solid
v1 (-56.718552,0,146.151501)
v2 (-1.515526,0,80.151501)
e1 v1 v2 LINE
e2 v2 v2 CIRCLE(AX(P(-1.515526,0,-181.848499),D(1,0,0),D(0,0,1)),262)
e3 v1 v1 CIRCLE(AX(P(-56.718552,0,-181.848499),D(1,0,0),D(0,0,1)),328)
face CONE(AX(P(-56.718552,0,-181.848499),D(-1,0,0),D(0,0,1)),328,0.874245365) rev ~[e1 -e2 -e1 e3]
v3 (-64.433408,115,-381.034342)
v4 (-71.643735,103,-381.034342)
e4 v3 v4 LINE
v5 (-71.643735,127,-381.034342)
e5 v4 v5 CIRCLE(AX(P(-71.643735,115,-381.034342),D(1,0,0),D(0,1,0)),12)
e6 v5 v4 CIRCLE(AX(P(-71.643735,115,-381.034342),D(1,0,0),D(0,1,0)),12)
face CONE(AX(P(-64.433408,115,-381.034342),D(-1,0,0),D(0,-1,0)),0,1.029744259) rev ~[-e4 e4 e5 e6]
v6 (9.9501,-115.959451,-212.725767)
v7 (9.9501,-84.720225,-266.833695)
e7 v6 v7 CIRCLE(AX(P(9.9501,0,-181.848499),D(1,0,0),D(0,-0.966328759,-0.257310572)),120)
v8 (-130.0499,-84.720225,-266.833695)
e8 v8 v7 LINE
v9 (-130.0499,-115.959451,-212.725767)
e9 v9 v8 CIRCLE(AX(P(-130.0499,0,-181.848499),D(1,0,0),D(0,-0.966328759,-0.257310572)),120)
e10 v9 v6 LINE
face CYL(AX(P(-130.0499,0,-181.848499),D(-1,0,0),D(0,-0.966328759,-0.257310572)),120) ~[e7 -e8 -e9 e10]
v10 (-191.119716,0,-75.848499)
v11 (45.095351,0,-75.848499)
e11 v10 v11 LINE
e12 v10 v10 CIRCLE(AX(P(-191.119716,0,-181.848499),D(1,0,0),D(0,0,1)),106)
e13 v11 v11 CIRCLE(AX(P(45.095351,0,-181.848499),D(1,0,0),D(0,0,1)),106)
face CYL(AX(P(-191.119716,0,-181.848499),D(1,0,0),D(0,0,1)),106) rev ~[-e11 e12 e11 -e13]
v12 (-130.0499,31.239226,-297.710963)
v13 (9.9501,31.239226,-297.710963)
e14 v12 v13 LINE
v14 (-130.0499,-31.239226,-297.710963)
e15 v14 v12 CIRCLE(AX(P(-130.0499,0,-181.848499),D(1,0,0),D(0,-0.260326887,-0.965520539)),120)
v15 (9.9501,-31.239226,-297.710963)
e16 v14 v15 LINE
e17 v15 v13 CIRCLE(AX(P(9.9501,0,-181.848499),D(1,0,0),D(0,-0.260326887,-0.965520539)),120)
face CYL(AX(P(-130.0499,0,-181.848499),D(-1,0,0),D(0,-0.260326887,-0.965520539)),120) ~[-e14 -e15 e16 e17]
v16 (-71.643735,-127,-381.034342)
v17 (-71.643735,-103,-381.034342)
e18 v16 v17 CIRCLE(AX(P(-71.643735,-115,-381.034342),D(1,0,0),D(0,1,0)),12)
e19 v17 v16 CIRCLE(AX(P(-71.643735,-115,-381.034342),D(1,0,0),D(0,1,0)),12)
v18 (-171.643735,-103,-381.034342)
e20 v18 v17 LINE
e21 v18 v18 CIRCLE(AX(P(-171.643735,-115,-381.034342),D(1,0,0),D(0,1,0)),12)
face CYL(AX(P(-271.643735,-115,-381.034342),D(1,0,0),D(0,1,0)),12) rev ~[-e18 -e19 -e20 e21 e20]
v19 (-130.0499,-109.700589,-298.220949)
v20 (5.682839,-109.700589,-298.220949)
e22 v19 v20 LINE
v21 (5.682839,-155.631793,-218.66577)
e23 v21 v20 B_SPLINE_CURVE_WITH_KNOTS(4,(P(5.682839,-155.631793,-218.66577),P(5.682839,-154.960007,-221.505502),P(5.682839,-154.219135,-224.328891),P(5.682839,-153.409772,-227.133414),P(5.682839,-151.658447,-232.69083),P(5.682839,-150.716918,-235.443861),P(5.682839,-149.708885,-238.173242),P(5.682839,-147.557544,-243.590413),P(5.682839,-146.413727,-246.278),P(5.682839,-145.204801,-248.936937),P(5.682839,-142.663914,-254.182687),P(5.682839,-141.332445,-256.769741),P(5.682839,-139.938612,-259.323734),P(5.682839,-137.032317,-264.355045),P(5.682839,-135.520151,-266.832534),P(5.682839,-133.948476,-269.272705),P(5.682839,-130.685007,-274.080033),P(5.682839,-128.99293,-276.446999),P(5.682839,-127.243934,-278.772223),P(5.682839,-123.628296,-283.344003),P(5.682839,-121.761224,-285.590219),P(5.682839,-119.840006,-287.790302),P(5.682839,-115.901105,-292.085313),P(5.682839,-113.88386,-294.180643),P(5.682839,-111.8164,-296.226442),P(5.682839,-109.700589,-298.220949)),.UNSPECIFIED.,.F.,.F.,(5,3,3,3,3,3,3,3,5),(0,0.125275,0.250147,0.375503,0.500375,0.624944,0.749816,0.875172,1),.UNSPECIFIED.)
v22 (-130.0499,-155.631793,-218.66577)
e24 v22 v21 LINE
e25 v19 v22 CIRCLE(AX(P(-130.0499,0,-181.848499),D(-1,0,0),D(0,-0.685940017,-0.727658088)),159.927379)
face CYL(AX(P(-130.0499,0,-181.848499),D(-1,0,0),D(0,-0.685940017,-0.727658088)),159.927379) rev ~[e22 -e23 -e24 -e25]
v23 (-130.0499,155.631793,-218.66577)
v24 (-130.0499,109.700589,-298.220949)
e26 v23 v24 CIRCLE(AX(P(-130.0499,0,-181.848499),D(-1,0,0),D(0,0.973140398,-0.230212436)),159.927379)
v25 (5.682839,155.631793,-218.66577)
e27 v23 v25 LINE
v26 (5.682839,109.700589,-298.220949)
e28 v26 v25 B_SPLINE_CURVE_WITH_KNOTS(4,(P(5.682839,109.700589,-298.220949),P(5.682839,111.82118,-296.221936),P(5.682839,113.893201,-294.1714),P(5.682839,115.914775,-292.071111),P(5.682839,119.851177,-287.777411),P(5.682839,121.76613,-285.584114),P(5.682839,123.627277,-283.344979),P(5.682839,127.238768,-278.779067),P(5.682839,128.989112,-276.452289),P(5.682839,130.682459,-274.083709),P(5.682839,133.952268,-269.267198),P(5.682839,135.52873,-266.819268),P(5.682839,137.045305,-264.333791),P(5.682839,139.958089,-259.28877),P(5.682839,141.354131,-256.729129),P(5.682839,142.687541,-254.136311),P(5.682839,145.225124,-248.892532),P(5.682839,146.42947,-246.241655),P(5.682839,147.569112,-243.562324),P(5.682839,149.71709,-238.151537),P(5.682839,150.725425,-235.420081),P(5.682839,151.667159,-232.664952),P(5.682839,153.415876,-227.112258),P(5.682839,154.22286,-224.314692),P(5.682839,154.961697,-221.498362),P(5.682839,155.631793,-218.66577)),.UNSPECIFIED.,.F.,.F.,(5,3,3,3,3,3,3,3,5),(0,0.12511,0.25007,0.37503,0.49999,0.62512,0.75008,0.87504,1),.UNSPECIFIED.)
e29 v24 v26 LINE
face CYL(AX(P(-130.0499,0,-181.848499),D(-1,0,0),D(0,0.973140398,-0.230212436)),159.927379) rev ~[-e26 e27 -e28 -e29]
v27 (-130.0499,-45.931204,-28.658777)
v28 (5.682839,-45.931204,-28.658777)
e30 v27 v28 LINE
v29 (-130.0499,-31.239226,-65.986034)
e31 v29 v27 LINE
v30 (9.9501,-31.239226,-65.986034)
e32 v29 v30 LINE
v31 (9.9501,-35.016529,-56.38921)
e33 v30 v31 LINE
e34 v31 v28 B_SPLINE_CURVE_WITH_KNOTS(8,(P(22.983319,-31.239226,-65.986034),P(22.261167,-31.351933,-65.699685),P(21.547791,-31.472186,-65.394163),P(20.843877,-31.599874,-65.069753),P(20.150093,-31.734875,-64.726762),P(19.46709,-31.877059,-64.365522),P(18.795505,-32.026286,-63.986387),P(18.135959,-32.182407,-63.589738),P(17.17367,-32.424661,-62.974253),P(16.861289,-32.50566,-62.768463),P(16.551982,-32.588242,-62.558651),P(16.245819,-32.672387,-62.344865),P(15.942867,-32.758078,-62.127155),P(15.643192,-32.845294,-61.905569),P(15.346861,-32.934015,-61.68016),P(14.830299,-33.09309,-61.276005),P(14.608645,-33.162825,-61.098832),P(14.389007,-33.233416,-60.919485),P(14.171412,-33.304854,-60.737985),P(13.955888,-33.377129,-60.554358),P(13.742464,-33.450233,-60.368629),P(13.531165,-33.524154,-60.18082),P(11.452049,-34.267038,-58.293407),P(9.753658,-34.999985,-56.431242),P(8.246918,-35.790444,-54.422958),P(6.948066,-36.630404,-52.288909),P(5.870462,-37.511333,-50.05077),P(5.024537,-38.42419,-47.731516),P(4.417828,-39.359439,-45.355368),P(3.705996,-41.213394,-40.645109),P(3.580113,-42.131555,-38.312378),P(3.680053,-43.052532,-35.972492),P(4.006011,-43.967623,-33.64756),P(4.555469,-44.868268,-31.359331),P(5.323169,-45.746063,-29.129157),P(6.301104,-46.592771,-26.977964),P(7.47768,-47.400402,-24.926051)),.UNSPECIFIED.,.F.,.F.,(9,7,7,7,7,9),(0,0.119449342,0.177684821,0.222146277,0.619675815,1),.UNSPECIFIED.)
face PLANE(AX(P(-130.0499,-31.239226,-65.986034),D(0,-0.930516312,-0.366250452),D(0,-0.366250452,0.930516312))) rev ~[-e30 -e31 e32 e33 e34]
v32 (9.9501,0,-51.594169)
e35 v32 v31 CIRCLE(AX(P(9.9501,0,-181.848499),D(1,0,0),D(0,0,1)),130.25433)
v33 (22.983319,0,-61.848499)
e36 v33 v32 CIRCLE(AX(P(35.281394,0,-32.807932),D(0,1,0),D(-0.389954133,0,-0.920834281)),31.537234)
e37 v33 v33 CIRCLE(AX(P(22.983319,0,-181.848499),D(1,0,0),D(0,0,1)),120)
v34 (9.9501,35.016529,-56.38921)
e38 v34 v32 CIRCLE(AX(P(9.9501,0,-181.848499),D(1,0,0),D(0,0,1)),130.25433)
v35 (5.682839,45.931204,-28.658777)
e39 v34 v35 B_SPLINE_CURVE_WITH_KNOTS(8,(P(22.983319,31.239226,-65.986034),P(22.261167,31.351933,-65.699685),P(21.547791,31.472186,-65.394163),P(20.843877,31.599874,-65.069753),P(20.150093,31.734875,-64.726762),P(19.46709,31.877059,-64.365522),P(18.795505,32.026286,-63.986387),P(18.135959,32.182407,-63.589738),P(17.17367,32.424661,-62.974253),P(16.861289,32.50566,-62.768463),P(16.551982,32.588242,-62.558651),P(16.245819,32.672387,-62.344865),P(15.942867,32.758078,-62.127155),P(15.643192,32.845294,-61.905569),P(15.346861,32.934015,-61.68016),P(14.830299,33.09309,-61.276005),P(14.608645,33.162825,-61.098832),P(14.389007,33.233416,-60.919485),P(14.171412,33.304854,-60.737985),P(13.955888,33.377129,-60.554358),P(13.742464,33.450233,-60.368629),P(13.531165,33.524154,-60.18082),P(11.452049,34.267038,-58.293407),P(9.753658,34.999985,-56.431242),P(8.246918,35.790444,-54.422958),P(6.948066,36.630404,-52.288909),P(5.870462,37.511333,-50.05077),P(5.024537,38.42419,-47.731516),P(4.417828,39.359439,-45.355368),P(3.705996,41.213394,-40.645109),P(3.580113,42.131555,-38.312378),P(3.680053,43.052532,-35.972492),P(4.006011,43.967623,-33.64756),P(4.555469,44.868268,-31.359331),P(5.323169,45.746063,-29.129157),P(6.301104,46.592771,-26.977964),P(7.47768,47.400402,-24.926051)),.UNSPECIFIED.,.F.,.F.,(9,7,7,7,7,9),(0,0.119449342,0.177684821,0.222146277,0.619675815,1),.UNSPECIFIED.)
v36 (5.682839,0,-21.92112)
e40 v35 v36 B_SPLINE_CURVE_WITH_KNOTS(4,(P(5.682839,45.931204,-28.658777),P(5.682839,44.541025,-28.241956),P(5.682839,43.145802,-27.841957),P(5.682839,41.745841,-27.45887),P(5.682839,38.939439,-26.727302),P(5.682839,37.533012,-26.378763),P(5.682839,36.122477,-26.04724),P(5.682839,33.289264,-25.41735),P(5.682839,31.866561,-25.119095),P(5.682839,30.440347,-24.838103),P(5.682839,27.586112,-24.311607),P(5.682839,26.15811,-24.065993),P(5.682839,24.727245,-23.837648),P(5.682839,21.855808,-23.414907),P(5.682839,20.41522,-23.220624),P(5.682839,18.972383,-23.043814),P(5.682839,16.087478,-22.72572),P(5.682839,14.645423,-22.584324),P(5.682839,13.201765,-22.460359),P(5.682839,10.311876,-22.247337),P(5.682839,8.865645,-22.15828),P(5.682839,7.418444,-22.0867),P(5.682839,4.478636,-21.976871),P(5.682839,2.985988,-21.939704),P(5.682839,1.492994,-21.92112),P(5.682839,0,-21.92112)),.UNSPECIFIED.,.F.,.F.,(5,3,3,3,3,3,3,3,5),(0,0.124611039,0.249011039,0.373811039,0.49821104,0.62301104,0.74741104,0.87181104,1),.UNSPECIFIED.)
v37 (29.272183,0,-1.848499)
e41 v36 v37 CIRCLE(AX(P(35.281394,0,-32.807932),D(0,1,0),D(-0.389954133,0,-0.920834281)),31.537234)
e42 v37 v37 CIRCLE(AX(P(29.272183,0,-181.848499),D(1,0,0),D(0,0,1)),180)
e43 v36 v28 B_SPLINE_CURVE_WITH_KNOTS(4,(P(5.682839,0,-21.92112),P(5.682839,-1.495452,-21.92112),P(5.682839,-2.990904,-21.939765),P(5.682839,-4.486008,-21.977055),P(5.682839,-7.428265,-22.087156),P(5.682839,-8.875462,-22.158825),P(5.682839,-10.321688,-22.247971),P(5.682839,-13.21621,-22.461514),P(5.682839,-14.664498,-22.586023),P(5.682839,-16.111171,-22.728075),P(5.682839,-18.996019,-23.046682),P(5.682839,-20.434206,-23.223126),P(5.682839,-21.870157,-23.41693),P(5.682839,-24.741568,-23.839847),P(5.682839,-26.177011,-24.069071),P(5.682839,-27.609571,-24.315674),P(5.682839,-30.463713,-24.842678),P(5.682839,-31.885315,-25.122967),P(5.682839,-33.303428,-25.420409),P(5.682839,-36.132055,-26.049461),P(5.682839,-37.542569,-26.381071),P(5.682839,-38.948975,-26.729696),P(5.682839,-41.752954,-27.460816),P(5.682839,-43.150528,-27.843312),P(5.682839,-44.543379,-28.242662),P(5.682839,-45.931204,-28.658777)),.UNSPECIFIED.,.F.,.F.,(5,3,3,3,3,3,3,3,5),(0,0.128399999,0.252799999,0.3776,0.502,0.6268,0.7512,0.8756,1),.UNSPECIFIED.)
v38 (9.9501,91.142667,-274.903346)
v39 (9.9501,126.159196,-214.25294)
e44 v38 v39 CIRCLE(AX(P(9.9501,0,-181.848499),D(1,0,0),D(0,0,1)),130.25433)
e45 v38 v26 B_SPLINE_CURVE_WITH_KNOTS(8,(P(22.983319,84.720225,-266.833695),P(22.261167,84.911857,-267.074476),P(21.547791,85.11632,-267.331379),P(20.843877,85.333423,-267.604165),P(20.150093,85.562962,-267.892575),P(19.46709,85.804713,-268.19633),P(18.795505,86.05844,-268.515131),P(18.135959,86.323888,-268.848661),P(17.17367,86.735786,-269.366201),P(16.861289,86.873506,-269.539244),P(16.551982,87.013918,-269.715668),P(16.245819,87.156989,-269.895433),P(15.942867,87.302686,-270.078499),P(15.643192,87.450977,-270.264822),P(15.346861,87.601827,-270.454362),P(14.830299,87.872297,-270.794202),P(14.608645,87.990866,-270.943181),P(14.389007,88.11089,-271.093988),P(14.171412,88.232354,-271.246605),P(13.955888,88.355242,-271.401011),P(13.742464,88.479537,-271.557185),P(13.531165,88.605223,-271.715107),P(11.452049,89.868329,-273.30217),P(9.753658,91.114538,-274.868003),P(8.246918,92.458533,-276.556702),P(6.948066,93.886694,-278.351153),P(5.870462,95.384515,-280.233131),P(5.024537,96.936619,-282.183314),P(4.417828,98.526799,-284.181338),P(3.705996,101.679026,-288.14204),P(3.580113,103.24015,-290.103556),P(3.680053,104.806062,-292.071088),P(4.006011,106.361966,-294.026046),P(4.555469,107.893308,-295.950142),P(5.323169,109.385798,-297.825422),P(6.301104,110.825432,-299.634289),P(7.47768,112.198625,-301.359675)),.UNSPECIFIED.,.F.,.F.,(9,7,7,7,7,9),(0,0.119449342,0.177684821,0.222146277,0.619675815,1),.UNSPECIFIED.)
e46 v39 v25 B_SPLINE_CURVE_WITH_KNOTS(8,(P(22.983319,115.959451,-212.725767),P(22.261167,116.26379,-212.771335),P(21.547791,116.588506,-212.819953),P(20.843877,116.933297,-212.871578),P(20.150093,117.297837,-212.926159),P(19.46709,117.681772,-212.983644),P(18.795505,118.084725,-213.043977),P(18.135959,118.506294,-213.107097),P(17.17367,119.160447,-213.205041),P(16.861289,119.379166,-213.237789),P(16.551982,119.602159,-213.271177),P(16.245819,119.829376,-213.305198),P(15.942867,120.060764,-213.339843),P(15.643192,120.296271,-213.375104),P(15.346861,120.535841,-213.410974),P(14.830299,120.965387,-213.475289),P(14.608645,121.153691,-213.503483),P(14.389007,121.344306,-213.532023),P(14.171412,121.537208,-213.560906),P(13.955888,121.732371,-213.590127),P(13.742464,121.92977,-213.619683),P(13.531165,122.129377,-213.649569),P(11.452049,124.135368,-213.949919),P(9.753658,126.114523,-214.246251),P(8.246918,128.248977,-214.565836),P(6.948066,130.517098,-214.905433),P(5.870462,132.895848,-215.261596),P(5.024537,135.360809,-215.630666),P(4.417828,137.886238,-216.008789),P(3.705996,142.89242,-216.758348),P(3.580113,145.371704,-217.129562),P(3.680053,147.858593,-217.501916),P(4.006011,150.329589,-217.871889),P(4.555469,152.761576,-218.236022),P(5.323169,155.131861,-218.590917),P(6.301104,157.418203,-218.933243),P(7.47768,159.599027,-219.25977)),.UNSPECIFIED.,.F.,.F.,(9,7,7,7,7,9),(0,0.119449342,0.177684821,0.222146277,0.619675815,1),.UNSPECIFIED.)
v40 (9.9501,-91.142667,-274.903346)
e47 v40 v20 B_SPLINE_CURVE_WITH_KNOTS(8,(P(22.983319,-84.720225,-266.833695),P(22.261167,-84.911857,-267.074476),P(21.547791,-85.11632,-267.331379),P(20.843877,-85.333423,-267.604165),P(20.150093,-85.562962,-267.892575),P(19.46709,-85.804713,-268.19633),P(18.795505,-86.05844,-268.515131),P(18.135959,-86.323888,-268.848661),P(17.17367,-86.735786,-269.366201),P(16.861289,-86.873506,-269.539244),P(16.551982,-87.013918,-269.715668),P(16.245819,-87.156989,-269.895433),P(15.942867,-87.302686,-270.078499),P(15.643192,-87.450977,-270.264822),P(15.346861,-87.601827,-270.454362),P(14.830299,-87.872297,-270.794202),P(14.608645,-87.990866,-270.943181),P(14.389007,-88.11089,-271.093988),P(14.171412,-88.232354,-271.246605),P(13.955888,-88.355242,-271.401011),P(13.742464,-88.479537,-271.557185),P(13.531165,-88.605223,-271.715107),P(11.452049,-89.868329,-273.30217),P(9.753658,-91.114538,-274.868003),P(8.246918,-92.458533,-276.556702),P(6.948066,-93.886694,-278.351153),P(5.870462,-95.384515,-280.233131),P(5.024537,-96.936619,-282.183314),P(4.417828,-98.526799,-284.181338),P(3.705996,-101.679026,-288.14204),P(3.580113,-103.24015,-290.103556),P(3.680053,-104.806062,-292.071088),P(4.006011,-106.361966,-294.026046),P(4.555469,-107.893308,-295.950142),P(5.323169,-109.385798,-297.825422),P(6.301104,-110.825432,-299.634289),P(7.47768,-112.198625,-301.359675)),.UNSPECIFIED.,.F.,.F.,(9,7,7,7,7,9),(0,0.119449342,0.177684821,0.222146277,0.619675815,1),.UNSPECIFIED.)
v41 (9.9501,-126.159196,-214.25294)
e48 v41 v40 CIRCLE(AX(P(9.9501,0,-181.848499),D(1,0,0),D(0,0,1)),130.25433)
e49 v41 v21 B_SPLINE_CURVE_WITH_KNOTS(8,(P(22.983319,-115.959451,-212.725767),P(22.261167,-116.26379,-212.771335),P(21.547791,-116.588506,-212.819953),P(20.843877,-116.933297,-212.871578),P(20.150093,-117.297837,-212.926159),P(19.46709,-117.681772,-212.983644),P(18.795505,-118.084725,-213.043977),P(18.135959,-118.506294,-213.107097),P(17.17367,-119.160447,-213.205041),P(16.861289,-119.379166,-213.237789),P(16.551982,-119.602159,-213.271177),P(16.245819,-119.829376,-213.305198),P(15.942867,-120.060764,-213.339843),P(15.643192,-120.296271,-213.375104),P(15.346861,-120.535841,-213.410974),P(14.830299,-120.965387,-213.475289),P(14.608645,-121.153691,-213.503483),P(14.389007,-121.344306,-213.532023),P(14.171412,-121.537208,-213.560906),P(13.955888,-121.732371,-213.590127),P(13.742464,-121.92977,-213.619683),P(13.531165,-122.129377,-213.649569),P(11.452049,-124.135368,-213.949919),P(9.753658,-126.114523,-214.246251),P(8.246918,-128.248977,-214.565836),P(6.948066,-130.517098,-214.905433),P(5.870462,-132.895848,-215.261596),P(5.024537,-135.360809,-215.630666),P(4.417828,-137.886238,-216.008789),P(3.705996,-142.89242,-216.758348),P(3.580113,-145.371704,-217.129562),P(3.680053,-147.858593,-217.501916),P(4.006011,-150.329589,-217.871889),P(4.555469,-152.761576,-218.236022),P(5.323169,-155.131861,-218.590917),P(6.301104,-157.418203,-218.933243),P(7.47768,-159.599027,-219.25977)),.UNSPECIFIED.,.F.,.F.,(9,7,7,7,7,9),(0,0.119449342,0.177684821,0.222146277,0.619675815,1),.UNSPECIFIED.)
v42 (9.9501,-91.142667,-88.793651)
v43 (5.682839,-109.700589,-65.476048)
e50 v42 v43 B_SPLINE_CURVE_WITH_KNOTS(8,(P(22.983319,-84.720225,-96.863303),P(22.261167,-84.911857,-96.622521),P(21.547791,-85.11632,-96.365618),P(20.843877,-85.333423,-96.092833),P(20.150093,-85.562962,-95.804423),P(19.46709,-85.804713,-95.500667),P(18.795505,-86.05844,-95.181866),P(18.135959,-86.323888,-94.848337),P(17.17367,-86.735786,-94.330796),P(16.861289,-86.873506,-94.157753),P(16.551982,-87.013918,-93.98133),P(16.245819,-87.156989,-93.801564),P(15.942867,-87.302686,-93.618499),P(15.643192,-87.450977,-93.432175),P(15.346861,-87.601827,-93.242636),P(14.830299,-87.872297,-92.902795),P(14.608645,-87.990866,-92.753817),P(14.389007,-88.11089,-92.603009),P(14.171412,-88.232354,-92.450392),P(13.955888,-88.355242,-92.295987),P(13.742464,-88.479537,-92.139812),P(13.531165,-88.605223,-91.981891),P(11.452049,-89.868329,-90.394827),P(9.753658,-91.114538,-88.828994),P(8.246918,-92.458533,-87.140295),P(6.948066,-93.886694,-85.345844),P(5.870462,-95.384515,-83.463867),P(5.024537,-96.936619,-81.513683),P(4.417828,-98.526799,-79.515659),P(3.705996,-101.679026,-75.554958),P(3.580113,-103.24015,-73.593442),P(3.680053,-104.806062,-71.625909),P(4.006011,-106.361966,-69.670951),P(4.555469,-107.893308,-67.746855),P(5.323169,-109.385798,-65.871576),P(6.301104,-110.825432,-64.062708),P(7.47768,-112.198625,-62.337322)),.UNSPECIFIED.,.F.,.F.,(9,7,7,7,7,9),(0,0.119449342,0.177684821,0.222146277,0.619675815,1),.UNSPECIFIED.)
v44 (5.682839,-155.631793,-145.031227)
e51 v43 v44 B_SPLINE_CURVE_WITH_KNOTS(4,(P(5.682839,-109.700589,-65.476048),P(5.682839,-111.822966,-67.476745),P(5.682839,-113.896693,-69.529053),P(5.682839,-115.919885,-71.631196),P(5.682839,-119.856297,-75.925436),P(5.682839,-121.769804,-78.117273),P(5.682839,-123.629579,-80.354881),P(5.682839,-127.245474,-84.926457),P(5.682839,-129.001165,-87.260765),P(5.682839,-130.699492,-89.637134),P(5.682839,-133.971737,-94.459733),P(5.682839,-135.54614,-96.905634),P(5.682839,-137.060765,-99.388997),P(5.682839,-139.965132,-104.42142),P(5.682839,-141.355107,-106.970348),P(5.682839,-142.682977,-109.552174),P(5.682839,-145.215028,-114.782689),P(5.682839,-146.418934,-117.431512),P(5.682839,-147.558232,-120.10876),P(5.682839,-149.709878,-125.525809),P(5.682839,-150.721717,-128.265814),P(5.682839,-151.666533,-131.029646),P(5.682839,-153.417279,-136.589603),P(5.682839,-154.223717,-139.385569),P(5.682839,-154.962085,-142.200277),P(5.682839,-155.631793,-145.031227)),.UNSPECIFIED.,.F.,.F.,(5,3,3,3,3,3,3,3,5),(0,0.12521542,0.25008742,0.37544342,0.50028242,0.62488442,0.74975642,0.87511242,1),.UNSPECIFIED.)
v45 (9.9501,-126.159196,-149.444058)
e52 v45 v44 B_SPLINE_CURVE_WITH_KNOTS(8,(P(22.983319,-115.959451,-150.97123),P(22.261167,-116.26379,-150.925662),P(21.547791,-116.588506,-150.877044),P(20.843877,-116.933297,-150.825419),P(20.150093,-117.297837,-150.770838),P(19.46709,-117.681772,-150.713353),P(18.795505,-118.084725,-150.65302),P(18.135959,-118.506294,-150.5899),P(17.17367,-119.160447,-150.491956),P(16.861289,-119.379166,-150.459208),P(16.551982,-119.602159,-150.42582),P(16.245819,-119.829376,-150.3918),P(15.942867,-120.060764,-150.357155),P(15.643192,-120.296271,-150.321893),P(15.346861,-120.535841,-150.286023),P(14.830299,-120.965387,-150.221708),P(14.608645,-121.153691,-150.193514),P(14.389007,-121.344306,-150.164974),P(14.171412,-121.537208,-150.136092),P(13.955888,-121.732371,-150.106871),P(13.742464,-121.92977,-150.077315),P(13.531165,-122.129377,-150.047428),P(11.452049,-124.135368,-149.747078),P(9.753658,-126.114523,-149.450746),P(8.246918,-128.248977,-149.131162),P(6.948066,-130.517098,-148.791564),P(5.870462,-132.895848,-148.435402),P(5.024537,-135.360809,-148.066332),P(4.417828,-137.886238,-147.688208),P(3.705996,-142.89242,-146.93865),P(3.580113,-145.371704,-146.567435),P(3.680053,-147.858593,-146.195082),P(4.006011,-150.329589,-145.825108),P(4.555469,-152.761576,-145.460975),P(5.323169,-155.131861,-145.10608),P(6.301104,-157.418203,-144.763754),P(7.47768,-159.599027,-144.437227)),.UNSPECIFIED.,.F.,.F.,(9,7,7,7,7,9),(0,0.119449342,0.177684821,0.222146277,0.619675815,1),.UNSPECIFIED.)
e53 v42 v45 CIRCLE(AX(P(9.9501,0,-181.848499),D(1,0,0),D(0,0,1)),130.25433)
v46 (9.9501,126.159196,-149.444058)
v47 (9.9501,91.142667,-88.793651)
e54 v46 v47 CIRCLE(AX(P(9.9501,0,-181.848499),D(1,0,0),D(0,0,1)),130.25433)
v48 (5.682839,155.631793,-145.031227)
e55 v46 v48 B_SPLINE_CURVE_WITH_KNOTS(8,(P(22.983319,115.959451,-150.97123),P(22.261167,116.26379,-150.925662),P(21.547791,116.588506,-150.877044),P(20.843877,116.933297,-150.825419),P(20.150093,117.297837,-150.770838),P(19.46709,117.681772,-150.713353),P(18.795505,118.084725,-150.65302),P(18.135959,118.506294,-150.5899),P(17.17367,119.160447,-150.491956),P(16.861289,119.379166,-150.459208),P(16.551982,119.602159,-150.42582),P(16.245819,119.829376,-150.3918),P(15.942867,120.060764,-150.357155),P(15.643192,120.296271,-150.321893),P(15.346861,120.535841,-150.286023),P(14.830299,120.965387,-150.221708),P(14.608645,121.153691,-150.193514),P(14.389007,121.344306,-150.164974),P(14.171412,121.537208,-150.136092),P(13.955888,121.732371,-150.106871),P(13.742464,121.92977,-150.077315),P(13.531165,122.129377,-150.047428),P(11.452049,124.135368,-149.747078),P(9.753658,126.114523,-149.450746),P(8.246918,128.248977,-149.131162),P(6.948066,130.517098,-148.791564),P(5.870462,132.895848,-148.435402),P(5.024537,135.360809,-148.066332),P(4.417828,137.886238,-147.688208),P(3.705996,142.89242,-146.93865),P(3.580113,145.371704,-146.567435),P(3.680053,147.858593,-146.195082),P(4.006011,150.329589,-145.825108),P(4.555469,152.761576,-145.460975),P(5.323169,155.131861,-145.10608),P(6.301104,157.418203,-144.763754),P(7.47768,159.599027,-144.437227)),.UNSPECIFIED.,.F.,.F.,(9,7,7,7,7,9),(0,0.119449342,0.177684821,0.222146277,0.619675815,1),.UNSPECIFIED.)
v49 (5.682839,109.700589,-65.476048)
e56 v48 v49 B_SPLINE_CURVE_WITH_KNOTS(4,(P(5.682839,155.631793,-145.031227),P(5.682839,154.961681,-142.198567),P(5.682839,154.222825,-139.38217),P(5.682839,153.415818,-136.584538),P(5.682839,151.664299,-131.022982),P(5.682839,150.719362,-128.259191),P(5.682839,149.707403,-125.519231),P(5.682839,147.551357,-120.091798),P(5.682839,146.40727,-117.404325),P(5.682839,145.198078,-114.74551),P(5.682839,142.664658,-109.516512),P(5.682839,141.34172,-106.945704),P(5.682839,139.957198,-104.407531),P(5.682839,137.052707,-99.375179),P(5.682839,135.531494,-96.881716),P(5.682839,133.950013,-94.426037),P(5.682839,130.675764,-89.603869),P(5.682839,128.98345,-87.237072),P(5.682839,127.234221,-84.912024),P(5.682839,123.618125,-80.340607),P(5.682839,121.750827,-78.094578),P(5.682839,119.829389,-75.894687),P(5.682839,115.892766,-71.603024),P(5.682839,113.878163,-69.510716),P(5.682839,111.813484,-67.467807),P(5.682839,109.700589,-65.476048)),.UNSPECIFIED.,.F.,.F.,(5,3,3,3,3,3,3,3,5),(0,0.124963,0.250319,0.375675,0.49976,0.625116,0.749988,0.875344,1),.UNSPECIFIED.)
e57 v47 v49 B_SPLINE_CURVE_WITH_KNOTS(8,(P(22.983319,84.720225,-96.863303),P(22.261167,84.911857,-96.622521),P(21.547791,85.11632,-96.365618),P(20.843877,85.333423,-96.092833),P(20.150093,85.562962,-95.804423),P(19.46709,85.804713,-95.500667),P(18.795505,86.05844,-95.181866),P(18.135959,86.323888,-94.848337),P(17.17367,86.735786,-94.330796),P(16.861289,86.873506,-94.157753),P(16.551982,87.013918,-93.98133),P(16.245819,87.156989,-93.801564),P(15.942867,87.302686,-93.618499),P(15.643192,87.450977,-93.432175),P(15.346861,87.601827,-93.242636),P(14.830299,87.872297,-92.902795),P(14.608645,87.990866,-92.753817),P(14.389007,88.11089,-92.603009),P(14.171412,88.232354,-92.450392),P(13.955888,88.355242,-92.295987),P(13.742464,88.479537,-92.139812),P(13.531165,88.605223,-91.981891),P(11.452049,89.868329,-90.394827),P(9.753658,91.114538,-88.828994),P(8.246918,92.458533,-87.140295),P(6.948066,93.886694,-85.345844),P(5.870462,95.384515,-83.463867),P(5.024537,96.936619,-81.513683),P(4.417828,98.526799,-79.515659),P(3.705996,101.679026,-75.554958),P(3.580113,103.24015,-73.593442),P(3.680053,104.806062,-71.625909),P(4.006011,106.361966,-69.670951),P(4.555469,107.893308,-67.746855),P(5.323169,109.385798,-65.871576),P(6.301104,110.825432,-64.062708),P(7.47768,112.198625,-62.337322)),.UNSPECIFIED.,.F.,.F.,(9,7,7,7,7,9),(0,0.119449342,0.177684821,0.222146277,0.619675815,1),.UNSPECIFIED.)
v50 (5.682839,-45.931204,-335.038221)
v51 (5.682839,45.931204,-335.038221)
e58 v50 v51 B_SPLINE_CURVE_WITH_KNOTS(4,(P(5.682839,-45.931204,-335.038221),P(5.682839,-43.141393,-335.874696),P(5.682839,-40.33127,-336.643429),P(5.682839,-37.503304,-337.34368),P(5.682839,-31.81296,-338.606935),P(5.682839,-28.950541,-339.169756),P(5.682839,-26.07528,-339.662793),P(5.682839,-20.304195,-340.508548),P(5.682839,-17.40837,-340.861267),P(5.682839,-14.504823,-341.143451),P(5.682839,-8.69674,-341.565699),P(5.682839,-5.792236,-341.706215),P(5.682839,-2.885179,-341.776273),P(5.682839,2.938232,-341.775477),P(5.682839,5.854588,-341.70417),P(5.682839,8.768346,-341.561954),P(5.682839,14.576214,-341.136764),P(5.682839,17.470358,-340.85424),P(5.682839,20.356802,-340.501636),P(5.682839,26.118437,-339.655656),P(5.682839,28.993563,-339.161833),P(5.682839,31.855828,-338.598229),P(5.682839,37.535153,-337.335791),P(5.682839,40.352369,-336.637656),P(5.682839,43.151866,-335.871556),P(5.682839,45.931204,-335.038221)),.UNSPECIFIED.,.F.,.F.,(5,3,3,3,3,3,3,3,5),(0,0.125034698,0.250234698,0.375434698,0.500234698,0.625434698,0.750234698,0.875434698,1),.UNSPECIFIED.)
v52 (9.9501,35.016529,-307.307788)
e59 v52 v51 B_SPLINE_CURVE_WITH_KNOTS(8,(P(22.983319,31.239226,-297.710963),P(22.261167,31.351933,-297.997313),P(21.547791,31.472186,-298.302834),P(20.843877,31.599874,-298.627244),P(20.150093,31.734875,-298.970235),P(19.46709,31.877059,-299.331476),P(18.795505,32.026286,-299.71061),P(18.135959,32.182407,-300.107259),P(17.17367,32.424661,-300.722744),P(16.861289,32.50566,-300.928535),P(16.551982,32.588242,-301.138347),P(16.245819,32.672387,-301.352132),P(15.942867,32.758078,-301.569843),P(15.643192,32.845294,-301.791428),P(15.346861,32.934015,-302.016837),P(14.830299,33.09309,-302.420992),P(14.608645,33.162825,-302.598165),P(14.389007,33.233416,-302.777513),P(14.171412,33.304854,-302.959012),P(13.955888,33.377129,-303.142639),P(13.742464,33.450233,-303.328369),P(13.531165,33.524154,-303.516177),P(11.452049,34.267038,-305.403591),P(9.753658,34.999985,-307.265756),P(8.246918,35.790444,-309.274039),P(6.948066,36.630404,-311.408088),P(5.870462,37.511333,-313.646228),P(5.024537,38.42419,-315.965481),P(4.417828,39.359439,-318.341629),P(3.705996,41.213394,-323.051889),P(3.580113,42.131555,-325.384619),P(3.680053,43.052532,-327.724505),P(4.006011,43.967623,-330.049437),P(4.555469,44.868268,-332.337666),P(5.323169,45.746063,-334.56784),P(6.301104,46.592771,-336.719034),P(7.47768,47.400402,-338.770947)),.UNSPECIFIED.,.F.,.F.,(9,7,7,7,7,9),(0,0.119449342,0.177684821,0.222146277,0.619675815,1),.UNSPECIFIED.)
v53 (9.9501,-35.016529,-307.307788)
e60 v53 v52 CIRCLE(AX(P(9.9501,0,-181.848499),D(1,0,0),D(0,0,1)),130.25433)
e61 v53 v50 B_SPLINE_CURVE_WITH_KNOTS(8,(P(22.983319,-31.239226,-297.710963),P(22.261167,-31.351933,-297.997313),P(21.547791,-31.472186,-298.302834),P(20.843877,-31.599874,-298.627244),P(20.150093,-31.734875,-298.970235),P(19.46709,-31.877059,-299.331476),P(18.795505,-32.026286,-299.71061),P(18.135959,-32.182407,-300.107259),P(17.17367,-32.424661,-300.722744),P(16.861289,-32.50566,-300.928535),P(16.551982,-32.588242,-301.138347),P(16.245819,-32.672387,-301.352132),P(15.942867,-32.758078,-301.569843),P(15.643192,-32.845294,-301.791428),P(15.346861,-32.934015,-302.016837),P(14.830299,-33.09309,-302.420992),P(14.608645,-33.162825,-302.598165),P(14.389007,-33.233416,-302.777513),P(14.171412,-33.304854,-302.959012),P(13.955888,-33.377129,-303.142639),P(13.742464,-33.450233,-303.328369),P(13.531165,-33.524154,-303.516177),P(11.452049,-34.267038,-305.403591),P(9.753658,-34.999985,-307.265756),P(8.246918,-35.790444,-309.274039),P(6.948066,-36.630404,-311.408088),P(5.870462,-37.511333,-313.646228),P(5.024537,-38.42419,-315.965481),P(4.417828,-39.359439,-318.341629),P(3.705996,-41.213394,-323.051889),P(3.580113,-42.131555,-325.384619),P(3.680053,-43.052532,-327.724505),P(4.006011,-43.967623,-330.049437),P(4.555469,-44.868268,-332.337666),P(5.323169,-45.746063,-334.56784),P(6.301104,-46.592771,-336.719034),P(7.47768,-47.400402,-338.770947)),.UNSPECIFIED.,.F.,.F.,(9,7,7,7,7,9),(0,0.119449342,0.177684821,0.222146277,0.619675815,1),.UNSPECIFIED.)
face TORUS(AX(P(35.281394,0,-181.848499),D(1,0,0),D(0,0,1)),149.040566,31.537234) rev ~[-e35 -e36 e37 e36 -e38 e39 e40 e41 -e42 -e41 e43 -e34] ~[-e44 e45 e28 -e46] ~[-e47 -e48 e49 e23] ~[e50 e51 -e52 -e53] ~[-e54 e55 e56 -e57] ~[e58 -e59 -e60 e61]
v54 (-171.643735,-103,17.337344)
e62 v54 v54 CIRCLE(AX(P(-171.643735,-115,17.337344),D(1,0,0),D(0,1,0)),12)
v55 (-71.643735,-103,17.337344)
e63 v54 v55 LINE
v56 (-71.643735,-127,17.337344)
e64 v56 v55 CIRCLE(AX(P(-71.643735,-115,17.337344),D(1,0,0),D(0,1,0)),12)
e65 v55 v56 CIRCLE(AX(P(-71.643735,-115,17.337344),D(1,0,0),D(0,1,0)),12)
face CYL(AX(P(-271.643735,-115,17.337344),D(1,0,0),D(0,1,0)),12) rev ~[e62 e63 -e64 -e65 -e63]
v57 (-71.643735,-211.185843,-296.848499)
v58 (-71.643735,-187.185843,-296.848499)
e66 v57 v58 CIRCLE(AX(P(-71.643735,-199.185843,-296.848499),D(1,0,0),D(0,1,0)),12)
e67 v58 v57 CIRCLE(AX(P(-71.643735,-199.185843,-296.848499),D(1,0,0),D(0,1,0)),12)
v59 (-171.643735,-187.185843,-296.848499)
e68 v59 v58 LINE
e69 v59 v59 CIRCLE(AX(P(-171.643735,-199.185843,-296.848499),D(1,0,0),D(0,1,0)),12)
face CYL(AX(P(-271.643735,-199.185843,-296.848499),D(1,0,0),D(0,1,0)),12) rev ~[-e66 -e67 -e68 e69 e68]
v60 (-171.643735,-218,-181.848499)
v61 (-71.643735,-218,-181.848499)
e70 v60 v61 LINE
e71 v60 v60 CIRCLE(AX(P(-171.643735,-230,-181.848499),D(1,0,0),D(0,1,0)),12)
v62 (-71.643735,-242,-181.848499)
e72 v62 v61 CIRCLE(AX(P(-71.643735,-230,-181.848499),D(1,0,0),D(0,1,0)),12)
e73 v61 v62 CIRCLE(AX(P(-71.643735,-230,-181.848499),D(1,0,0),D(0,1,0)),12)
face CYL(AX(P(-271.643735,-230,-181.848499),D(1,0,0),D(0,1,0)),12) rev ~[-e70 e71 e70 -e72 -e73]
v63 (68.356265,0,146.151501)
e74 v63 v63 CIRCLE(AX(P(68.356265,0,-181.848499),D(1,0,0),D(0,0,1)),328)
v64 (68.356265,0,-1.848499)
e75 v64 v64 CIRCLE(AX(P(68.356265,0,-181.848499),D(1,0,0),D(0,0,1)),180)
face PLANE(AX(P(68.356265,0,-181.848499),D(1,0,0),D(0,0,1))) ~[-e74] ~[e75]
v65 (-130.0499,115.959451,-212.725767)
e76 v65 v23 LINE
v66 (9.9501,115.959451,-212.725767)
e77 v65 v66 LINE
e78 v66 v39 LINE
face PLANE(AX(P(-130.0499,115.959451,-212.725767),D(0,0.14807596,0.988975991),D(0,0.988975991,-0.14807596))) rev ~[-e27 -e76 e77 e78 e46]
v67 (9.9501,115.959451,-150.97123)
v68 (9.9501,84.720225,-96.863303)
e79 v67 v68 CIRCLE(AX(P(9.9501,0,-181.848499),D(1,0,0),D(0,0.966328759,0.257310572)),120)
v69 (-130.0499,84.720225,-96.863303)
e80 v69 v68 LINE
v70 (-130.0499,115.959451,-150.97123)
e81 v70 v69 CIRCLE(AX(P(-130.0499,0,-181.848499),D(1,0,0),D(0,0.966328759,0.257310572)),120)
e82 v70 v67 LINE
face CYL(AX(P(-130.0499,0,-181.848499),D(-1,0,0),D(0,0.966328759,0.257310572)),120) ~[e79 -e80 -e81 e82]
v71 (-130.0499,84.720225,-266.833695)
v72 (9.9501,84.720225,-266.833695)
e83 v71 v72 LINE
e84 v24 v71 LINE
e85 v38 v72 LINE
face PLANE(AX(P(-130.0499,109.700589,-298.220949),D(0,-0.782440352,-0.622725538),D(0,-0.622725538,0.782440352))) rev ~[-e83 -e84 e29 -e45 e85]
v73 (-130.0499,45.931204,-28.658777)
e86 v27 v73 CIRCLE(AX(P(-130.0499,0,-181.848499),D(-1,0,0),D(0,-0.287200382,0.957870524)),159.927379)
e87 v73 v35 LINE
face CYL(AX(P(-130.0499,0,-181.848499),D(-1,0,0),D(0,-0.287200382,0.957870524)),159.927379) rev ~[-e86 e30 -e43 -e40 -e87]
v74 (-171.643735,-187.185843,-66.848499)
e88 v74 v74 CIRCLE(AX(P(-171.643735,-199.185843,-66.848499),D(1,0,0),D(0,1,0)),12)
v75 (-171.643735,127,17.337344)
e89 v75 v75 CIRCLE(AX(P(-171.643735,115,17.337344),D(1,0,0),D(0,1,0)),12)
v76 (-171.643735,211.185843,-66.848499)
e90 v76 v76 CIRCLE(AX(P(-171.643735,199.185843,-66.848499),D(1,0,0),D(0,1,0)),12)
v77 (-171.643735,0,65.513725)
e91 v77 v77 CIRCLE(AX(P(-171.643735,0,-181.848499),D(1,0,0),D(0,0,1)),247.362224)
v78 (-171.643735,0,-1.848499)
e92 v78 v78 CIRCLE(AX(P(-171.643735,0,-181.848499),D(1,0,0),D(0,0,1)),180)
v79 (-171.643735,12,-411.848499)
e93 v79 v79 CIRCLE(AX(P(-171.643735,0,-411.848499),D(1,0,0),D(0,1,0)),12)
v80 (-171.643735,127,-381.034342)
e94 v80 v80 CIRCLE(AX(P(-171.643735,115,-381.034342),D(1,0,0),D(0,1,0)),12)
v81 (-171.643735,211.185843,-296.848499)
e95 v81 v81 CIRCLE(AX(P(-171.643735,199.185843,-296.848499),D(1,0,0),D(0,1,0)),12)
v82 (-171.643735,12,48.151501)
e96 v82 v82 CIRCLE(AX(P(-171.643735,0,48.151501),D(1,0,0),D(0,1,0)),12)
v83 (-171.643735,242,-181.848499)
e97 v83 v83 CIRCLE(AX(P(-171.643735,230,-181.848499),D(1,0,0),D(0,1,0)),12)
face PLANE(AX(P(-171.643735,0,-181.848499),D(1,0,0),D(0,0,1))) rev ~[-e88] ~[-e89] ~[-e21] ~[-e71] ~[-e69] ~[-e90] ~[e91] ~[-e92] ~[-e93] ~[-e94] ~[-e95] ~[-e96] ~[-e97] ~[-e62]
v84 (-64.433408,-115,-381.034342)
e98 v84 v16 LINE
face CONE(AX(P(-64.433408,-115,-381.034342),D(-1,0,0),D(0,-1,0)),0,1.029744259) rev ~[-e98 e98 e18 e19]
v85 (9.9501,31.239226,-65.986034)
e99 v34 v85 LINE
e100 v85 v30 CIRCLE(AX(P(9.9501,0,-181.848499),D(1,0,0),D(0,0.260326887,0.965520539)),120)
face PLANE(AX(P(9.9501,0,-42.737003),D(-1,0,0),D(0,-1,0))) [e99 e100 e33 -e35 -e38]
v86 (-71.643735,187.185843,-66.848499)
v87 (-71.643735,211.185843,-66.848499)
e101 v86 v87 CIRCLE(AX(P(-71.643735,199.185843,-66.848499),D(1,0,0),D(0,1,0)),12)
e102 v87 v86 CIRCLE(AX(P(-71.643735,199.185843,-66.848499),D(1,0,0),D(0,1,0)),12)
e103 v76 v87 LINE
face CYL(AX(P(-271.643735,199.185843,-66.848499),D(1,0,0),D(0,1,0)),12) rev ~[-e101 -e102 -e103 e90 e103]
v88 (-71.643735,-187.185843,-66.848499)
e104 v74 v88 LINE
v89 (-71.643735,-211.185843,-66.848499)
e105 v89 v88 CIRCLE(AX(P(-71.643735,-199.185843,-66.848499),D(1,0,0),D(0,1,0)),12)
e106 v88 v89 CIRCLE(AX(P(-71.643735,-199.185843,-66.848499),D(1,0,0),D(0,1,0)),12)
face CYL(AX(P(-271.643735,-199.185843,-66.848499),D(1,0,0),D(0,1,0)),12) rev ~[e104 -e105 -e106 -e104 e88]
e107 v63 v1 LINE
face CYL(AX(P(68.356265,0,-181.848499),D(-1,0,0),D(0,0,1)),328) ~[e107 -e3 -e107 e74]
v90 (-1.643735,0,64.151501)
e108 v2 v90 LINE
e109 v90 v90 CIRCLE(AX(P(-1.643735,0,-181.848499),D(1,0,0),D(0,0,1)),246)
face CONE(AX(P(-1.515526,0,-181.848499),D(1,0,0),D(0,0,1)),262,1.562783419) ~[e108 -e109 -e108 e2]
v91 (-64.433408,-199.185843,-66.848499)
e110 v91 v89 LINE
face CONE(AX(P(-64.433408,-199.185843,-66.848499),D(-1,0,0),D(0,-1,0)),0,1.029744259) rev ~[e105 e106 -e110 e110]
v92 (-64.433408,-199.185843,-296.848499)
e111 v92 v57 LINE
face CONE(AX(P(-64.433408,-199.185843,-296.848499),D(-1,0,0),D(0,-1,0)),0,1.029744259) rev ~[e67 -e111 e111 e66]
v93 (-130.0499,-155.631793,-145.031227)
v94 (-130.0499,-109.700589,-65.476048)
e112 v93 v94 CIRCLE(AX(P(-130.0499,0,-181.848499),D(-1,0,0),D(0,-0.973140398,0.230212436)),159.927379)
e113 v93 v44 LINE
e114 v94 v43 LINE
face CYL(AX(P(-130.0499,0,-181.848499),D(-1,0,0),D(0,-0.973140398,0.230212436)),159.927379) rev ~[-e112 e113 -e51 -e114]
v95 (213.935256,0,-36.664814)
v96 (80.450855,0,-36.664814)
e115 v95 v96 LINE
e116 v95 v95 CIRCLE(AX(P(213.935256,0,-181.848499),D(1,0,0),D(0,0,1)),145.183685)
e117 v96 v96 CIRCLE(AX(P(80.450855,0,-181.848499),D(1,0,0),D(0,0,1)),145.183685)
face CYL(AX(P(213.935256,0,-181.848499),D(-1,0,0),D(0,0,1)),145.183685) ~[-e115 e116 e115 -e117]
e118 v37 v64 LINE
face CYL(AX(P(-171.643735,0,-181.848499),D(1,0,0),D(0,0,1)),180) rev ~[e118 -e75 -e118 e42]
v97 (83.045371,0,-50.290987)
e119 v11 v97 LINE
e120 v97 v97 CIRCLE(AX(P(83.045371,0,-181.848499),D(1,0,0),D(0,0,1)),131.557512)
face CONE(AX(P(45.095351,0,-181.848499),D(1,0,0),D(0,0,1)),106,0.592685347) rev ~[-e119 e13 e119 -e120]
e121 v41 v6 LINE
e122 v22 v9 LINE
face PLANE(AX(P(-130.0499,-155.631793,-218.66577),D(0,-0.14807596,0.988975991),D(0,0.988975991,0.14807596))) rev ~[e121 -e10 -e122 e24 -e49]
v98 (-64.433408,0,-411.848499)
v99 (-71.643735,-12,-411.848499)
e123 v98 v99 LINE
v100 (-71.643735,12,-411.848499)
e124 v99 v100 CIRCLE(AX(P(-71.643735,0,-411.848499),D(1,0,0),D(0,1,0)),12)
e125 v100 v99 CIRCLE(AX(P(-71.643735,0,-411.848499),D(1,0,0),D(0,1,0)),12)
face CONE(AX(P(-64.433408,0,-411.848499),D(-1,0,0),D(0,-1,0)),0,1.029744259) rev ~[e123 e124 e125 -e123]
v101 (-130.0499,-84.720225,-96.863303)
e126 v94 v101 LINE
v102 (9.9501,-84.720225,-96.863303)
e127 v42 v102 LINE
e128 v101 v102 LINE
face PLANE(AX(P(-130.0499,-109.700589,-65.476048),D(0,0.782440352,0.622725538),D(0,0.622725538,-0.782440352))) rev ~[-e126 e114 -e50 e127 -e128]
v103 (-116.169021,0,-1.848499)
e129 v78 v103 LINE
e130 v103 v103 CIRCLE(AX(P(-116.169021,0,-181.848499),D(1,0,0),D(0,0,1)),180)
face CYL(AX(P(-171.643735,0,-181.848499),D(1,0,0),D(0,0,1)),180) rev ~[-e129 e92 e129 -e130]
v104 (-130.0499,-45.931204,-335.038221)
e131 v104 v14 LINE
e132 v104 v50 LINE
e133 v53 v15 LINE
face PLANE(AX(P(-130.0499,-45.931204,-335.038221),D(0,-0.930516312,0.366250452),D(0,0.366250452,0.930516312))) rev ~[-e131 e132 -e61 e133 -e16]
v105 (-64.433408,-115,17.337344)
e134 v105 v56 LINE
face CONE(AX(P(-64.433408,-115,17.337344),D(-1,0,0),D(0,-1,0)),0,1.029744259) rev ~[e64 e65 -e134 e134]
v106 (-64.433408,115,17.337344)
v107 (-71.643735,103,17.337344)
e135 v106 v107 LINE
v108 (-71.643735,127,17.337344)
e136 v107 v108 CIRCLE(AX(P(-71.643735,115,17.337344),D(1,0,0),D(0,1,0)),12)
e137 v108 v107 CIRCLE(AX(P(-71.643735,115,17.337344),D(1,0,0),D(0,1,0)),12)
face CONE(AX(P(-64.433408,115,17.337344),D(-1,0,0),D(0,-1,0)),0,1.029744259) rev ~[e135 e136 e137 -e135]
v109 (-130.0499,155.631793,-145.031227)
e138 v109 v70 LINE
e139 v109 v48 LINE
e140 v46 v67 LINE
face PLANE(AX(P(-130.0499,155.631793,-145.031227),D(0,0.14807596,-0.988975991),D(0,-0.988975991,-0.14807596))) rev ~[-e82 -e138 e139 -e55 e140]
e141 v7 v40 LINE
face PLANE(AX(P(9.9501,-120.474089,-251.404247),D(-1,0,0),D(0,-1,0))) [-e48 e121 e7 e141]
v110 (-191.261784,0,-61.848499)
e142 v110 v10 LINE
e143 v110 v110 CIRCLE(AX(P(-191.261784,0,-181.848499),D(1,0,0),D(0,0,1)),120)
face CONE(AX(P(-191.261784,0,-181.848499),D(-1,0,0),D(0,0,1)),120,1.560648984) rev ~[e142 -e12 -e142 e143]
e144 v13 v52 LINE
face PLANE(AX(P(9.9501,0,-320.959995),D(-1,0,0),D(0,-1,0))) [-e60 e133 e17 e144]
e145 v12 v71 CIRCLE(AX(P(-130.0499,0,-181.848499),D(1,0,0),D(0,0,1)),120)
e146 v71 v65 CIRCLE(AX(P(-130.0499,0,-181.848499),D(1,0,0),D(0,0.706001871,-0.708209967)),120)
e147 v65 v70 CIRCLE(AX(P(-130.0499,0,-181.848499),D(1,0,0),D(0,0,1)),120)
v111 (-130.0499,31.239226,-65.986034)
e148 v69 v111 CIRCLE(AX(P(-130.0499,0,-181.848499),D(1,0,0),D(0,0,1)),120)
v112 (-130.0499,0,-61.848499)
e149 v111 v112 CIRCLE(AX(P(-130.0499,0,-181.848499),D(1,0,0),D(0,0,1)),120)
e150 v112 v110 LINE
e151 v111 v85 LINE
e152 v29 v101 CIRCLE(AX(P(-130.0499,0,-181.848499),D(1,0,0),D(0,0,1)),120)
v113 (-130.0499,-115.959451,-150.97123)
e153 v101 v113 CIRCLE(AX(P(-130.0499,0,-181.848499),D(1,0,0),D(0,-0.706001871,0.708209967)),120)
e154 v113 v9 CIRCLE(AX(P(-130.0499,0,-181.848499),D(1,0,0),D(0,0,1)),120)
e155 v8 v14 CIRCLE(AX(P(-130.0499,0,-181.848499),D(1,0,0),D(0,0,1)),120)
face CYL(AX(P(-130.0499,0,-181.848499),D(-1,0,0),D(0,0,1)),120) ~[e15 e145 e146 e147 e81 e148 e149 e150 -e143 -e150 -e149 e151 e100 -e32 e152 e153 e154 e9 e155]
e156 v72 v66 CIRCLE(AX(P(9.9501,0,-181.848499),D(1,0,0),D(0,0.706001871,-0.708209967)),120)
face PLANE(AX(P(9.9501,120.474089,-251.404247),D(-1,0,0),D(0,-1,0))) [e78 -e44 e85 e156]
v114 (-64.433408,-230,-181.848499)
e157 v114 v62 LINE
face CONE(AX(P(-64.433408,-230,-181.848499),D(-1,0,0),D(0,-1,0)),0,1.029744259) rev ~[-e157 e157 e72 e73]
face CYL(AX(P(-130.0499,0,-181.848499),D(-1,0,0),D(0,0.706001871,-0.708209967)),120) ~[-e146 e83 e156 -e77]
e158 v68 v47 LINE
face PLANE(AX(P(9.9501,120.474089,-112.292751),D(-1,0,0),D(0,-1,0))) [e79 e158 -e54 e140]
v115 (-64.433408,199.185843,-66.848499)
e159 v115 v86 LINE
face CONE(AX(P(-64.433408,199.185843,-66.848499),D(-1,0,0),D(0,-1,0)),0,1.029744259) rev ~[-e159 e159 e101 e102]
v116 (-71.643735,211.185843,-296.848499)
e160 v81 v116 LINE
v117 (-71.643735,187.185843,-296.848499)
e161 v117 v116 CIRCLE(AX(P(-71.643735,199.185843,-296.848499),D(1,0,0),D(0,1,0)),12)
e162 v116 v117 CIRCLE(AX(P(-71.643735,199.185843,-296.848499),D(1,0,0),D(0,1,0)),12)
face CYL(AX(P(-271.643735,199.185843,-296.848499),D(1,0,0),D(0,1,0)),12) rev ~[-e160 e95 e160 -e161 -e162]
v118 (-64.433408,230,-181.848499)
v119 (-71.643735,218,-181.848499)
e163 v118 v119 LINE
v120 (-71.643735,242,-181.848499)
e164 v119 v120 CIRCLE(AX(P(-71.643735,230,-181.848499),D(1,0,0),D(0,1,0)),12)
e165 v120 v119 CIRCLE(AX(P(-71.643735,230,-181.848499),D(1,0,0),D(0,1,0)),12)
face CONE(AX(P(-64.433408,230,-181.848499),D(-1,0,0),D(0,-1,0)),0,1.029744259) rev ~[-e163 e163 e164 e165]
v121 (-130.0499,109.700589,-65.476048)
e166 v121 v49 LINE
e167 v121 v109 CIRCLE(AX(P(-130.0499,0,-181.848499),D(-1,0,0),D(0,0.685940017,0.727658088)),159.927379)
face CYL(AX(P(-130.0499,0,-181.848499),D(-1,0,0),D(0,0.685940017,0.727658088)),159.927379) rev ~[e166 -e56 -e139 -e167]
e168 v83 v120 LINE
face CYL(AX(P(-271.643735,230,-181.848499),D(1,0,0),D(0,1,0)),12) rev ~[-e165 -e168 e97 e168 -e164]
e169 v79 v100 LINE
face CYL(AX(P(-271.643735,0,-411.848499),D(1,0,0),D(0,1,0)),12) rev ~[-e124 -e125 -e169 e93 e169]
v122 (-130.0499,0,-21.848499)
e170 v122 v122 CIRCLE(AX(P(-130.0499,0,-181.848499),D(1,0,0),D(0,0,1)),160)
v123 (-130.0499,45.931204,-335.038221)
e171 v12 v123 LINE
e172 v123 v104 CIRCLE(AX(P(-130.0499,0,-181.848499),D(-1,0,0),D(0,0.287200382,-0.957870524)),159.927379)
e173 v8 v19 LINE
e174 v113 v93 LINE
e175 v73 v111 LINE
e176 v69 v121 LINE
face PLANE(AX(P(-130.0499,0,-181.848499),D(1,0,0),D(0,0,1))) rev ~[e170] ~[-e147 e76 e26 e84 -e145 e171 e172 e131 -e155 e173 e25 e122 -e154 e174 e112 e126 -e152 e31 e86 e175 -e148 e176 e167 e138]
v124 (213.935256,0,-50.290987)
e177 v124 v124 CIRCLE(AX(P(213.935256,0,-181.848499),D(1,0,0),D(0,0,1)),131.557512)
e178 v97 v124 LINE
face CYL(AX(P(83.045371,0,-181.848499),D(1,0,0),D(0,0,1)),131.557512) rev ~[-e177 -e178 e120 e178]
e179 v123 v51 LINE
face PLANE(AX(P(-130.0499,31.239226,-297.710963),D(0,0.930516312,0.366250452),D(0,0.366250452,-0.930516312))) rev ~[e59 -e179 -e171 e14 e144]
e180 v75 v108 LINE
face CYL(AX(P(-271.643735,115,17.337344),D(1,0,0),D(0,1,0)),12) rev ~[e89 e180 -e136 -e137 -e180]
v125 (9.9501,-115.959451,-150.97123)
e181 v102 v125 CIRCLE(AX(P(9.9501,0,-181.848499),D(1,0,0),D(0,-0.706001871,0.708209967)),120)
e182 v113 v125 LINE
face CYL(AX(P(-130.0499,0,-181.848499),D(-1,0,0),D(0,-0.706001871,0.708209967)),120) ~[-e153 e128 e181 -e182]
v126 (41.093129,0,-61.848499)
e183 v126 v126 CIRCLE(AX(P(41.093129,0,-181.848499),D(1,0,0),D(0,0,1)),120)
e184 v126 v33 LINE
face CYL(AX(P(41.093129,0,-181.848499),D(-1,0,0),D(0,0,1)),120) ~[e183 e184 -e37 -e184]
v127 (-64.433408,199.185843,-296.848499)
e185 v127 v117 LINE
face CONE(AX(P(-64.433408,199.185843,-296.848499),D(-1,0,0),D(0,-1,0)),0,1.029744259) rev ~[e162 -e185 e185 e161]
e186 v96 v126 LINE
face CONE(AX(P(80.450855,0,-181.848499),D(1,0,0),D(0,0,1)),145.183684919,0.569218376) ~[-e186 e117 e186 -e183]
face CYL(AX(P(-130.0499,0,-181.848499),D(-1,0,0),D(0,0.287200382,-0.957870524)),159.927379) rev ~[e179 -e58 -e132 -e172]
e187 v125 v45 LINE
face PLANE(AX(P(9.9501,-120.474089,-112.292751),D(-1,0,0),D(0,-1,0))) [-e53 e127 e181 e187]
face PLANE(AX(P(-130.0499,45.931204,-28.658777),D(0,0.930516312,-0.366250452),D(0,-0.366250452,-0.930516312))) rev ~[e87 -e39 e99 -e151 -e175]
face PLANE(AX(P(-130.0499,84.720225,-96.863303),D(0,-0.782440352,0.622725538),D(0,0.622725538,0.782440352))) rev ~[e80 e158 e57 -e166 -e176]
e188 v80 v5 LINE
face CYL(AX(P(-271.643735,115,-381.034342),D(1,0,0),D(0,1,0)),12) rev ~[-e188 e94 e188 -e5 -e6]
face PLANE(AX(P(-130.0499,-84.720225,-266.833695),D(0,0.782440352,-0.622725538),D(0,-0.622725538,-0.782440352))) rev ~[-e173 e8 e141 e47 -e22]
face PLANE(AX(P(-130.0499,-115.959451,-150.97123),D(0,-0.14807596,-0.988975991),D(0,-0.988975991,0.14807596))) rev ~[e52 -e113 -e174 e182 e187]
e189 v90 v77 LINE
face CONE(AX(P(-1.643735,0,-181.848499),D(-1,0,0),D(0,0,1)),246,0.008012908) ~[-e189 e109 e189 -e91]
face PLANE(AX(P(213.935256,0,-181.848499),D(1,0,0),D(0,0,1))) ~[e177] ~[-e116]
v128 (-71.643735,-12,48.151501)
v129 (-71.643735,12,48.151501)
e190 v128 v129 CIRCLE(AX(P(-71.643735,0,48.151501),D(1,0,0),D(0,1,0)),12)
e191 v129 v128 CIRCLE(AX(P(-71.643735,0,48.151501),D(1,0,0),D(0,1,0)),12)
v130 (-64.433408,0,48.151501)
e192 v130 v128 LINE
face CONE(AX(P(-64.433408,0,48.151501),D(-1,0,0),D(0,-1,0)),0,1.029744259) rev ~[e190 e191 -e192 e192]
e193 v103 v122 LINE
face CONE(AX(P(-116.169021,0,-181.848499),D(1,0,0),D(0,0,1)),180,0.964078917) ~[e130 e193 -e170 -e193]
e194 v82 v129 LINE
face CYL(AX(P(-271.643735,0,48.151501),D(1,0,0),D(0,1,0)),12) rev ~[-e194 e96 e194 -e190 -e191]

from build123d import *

# Parameters (mm, degrees)
F3_DEPTH = 140
F5_D     = 24
F5_DEPTH = 100
F5_TIP   = 7.2103274283


with BuildPart() as f1:
    # F0 (on Front) → F1 (revolve)
    with BuildSketch(Plane.XZ):
        Polygon((-1.5155260398, 80.1515013238), (-1.6437353146, 64.1515013238), (-171.6437353146, 65.5137248684), (-171.6437353146, -1.8484986762), (-116.1690213024, -1.8484986762), (-60.6943072902, -1.8484986762), (29.2721830071, -1.8484986762), (68.3562646854, -1.8484986762), (68.3562646856, 79.3194004249), (68.3562646856, 146.1515013238), (-56.7185516386, 146.1515013238), align=None)
        with BuildLine():
            Line((-60.6943072902, -1.8484986762), (-116.1690213024, -1.8484986762))
            Line((-116.1690213024, -1.8484986762), (-130.0498999893, -21.8484986762))
            Line((-130.0498999893, -21.8484986762), (-130.0498999893, -61.8484986762))
            Line((-130.0498999893, -61.8484986762), (22.9833192886, -61.8484986762))
            ThreePointArc((22.9833192886, -61.8484986762), (3.9159803894, -29.5203853555), (29.2721830071, -1.8484986762))
            Line((29.2721830071, -1.8484986762), (-60.6943072902, -1.8484986762))
        make_face()
        Polygon((22.9833192886, -61.8484986762), (-130.0498999893, -61.8484986762), (-191.2617840111, -61.8484986762), (-191.1197163402, -75.8484986762), (45.0953505933, -75.8484986762), (83.0453708768, -50.2909868956), (213.9352560043, -50.2909868956), (213.9352560043, -36.6648137569), (80.4508551955, -36.6648137569), (41.0931288958, -61.8484986762), align=None)
    revolve(axis=Axis((-18.4481963515, 0, -181.8484986762), (1, 0, 0)))

    # F2 (on face) → F3 (cut)
    with BuildSketch(Plane(origin=(-130.0498999893, 0, 0), x_dir=(0, -1, 0), z_dir=(-1, 0, 0))):
        with BuildLine():
            Line((31.2392264938, -65.9860339689), (45.9312041985, -28.6587765722))
            ThreePointArc((45.9312041985, -28.6587765722), (0, -21.921119915), (-45.9312041985, -28.6587765722))
            Line((-45.9312041985, -28.6587765722), (-31.2392264938, -65.9860339689))
            ThreePointArc((-31.2392264938, -65.9860339689), (0, -61.8484986762), (31.2392264938, -65.9860339689))
        make_face()
        with BuildLine():
            Line((155.63179304, -218.665770066), (115.9594510286, -212.7257672917))
            ThreePointArc((115.9594510286, -212.7257672917), (103.9230484541, -241.8484986762), (84.7202245348, -266.8336947681))
            Line((84.7202245348, -266.8336947681), (109.7005888416, -298.2209493906))
            ThreePointArc((109.7005888416, -298.2209493906), (138.5011727679, -261.8121880569), (155.63179304, -218.665770066))
        make_face()
        with BuildLine():
            Line((109.7005888416, -65.4760479619), (84.7202245348, -96.8633025843))
            ThreePointArc((84.7202245348, -96.8633025843), (103.9230484541, -121.8484986762), (115.9594510286, -150.9712300607))
            Line((115.9594510286, -150.9712300607), (155.63179304, -145.0312272865))
            ThreePointArc((155.63179304, -145.0312272865), (138.5011727679, -101.8848092956), (109.7005888416, -65.4760479619))
        make_face()
        with BuildLine():
            ThreePointArc((31.2392264938, -297.7109633836), (0, -301.8484986762), (-31.2392264938, -297.7109633836))
            Line((-31.2392264938, -297.7109633836), (-45.9312041985, -335.0382207803))
            ThreePointArc((-45.9312041985, -335.0382207803), (0, -341.7758774375), (45.9312041985, -335.0382207803))
            Line((45.9312041985, -335.0382207803), (31.2392264938, -297.7109633836))
        make_face()
        with BuildLine():
            ThreePointArc((-84.7202245348, -266.8336947681), (-103.9230484541, -241.8484986762), (-115.9594510286, -212.7257672917))
            Line((-115.9594510286, -212.7257672917), (-155.63179304, -218.665770066))
            ThreePointArc((-155.63179304, -218.665770066), (-138.5011727679, -261.8121880569), (-109.7005888416, -298.2209493906))
            Line((-109.7005888416, -298.2209493906), (-84.7202245348, -266.8336947681))
        make_face()
        with BuildLine():
            ThreePointArc((-115.9594510286, -150.9712300607), (-103.9230484541, -121.8484986762), (-84.7202245348, -96.8633025843))
            Line((-84.7202245348, -96.8633025843), (-109.7005888416, -65.4760479619))
            ThreePointArc((-109.7005888416, -65.4760479619), (-138.5011727679, -101.8848092956), (-155.63179304, -145.0312272865))
            Line((-155.63179304, -145.0312272865), (-115.9594510286, -150.9712300607))
        make_face()
    extrude(amount=-F3_DEPTH, mode=Mode.SUBTRACT)

    # F5
    with Locations(Plane(origin=(-171.6437353146, 0, 0), x_dir=(0, -1, 0), z_dir=(-1, 0, 0))):
        with Locations((-115, 17.3373441942), (0, 48.1515013238), (115, 17.3373441942), (199.1858428704, -66.8484986762), (230, -181.8484986762), (-199.1858428704, -66.8484986762), (-230, -181.8484986762), (-199.1858428704, -296.8484986762), (-115, -381.0343415467), (0, -411.8484986762), (115, -381.0343415467), (199.1858428704, -296.8484986762)):
            Hole(F5_D / 2, depth=F5_DEPTH)
            with Locations((0, 0, -(F5_DEPTH + F5_TIP / 2))):  # 118° drill point
                Cone(0, F5_D / 2, F5_TIP, mode=Mode.SUBTRACT)


solid = f1.part
